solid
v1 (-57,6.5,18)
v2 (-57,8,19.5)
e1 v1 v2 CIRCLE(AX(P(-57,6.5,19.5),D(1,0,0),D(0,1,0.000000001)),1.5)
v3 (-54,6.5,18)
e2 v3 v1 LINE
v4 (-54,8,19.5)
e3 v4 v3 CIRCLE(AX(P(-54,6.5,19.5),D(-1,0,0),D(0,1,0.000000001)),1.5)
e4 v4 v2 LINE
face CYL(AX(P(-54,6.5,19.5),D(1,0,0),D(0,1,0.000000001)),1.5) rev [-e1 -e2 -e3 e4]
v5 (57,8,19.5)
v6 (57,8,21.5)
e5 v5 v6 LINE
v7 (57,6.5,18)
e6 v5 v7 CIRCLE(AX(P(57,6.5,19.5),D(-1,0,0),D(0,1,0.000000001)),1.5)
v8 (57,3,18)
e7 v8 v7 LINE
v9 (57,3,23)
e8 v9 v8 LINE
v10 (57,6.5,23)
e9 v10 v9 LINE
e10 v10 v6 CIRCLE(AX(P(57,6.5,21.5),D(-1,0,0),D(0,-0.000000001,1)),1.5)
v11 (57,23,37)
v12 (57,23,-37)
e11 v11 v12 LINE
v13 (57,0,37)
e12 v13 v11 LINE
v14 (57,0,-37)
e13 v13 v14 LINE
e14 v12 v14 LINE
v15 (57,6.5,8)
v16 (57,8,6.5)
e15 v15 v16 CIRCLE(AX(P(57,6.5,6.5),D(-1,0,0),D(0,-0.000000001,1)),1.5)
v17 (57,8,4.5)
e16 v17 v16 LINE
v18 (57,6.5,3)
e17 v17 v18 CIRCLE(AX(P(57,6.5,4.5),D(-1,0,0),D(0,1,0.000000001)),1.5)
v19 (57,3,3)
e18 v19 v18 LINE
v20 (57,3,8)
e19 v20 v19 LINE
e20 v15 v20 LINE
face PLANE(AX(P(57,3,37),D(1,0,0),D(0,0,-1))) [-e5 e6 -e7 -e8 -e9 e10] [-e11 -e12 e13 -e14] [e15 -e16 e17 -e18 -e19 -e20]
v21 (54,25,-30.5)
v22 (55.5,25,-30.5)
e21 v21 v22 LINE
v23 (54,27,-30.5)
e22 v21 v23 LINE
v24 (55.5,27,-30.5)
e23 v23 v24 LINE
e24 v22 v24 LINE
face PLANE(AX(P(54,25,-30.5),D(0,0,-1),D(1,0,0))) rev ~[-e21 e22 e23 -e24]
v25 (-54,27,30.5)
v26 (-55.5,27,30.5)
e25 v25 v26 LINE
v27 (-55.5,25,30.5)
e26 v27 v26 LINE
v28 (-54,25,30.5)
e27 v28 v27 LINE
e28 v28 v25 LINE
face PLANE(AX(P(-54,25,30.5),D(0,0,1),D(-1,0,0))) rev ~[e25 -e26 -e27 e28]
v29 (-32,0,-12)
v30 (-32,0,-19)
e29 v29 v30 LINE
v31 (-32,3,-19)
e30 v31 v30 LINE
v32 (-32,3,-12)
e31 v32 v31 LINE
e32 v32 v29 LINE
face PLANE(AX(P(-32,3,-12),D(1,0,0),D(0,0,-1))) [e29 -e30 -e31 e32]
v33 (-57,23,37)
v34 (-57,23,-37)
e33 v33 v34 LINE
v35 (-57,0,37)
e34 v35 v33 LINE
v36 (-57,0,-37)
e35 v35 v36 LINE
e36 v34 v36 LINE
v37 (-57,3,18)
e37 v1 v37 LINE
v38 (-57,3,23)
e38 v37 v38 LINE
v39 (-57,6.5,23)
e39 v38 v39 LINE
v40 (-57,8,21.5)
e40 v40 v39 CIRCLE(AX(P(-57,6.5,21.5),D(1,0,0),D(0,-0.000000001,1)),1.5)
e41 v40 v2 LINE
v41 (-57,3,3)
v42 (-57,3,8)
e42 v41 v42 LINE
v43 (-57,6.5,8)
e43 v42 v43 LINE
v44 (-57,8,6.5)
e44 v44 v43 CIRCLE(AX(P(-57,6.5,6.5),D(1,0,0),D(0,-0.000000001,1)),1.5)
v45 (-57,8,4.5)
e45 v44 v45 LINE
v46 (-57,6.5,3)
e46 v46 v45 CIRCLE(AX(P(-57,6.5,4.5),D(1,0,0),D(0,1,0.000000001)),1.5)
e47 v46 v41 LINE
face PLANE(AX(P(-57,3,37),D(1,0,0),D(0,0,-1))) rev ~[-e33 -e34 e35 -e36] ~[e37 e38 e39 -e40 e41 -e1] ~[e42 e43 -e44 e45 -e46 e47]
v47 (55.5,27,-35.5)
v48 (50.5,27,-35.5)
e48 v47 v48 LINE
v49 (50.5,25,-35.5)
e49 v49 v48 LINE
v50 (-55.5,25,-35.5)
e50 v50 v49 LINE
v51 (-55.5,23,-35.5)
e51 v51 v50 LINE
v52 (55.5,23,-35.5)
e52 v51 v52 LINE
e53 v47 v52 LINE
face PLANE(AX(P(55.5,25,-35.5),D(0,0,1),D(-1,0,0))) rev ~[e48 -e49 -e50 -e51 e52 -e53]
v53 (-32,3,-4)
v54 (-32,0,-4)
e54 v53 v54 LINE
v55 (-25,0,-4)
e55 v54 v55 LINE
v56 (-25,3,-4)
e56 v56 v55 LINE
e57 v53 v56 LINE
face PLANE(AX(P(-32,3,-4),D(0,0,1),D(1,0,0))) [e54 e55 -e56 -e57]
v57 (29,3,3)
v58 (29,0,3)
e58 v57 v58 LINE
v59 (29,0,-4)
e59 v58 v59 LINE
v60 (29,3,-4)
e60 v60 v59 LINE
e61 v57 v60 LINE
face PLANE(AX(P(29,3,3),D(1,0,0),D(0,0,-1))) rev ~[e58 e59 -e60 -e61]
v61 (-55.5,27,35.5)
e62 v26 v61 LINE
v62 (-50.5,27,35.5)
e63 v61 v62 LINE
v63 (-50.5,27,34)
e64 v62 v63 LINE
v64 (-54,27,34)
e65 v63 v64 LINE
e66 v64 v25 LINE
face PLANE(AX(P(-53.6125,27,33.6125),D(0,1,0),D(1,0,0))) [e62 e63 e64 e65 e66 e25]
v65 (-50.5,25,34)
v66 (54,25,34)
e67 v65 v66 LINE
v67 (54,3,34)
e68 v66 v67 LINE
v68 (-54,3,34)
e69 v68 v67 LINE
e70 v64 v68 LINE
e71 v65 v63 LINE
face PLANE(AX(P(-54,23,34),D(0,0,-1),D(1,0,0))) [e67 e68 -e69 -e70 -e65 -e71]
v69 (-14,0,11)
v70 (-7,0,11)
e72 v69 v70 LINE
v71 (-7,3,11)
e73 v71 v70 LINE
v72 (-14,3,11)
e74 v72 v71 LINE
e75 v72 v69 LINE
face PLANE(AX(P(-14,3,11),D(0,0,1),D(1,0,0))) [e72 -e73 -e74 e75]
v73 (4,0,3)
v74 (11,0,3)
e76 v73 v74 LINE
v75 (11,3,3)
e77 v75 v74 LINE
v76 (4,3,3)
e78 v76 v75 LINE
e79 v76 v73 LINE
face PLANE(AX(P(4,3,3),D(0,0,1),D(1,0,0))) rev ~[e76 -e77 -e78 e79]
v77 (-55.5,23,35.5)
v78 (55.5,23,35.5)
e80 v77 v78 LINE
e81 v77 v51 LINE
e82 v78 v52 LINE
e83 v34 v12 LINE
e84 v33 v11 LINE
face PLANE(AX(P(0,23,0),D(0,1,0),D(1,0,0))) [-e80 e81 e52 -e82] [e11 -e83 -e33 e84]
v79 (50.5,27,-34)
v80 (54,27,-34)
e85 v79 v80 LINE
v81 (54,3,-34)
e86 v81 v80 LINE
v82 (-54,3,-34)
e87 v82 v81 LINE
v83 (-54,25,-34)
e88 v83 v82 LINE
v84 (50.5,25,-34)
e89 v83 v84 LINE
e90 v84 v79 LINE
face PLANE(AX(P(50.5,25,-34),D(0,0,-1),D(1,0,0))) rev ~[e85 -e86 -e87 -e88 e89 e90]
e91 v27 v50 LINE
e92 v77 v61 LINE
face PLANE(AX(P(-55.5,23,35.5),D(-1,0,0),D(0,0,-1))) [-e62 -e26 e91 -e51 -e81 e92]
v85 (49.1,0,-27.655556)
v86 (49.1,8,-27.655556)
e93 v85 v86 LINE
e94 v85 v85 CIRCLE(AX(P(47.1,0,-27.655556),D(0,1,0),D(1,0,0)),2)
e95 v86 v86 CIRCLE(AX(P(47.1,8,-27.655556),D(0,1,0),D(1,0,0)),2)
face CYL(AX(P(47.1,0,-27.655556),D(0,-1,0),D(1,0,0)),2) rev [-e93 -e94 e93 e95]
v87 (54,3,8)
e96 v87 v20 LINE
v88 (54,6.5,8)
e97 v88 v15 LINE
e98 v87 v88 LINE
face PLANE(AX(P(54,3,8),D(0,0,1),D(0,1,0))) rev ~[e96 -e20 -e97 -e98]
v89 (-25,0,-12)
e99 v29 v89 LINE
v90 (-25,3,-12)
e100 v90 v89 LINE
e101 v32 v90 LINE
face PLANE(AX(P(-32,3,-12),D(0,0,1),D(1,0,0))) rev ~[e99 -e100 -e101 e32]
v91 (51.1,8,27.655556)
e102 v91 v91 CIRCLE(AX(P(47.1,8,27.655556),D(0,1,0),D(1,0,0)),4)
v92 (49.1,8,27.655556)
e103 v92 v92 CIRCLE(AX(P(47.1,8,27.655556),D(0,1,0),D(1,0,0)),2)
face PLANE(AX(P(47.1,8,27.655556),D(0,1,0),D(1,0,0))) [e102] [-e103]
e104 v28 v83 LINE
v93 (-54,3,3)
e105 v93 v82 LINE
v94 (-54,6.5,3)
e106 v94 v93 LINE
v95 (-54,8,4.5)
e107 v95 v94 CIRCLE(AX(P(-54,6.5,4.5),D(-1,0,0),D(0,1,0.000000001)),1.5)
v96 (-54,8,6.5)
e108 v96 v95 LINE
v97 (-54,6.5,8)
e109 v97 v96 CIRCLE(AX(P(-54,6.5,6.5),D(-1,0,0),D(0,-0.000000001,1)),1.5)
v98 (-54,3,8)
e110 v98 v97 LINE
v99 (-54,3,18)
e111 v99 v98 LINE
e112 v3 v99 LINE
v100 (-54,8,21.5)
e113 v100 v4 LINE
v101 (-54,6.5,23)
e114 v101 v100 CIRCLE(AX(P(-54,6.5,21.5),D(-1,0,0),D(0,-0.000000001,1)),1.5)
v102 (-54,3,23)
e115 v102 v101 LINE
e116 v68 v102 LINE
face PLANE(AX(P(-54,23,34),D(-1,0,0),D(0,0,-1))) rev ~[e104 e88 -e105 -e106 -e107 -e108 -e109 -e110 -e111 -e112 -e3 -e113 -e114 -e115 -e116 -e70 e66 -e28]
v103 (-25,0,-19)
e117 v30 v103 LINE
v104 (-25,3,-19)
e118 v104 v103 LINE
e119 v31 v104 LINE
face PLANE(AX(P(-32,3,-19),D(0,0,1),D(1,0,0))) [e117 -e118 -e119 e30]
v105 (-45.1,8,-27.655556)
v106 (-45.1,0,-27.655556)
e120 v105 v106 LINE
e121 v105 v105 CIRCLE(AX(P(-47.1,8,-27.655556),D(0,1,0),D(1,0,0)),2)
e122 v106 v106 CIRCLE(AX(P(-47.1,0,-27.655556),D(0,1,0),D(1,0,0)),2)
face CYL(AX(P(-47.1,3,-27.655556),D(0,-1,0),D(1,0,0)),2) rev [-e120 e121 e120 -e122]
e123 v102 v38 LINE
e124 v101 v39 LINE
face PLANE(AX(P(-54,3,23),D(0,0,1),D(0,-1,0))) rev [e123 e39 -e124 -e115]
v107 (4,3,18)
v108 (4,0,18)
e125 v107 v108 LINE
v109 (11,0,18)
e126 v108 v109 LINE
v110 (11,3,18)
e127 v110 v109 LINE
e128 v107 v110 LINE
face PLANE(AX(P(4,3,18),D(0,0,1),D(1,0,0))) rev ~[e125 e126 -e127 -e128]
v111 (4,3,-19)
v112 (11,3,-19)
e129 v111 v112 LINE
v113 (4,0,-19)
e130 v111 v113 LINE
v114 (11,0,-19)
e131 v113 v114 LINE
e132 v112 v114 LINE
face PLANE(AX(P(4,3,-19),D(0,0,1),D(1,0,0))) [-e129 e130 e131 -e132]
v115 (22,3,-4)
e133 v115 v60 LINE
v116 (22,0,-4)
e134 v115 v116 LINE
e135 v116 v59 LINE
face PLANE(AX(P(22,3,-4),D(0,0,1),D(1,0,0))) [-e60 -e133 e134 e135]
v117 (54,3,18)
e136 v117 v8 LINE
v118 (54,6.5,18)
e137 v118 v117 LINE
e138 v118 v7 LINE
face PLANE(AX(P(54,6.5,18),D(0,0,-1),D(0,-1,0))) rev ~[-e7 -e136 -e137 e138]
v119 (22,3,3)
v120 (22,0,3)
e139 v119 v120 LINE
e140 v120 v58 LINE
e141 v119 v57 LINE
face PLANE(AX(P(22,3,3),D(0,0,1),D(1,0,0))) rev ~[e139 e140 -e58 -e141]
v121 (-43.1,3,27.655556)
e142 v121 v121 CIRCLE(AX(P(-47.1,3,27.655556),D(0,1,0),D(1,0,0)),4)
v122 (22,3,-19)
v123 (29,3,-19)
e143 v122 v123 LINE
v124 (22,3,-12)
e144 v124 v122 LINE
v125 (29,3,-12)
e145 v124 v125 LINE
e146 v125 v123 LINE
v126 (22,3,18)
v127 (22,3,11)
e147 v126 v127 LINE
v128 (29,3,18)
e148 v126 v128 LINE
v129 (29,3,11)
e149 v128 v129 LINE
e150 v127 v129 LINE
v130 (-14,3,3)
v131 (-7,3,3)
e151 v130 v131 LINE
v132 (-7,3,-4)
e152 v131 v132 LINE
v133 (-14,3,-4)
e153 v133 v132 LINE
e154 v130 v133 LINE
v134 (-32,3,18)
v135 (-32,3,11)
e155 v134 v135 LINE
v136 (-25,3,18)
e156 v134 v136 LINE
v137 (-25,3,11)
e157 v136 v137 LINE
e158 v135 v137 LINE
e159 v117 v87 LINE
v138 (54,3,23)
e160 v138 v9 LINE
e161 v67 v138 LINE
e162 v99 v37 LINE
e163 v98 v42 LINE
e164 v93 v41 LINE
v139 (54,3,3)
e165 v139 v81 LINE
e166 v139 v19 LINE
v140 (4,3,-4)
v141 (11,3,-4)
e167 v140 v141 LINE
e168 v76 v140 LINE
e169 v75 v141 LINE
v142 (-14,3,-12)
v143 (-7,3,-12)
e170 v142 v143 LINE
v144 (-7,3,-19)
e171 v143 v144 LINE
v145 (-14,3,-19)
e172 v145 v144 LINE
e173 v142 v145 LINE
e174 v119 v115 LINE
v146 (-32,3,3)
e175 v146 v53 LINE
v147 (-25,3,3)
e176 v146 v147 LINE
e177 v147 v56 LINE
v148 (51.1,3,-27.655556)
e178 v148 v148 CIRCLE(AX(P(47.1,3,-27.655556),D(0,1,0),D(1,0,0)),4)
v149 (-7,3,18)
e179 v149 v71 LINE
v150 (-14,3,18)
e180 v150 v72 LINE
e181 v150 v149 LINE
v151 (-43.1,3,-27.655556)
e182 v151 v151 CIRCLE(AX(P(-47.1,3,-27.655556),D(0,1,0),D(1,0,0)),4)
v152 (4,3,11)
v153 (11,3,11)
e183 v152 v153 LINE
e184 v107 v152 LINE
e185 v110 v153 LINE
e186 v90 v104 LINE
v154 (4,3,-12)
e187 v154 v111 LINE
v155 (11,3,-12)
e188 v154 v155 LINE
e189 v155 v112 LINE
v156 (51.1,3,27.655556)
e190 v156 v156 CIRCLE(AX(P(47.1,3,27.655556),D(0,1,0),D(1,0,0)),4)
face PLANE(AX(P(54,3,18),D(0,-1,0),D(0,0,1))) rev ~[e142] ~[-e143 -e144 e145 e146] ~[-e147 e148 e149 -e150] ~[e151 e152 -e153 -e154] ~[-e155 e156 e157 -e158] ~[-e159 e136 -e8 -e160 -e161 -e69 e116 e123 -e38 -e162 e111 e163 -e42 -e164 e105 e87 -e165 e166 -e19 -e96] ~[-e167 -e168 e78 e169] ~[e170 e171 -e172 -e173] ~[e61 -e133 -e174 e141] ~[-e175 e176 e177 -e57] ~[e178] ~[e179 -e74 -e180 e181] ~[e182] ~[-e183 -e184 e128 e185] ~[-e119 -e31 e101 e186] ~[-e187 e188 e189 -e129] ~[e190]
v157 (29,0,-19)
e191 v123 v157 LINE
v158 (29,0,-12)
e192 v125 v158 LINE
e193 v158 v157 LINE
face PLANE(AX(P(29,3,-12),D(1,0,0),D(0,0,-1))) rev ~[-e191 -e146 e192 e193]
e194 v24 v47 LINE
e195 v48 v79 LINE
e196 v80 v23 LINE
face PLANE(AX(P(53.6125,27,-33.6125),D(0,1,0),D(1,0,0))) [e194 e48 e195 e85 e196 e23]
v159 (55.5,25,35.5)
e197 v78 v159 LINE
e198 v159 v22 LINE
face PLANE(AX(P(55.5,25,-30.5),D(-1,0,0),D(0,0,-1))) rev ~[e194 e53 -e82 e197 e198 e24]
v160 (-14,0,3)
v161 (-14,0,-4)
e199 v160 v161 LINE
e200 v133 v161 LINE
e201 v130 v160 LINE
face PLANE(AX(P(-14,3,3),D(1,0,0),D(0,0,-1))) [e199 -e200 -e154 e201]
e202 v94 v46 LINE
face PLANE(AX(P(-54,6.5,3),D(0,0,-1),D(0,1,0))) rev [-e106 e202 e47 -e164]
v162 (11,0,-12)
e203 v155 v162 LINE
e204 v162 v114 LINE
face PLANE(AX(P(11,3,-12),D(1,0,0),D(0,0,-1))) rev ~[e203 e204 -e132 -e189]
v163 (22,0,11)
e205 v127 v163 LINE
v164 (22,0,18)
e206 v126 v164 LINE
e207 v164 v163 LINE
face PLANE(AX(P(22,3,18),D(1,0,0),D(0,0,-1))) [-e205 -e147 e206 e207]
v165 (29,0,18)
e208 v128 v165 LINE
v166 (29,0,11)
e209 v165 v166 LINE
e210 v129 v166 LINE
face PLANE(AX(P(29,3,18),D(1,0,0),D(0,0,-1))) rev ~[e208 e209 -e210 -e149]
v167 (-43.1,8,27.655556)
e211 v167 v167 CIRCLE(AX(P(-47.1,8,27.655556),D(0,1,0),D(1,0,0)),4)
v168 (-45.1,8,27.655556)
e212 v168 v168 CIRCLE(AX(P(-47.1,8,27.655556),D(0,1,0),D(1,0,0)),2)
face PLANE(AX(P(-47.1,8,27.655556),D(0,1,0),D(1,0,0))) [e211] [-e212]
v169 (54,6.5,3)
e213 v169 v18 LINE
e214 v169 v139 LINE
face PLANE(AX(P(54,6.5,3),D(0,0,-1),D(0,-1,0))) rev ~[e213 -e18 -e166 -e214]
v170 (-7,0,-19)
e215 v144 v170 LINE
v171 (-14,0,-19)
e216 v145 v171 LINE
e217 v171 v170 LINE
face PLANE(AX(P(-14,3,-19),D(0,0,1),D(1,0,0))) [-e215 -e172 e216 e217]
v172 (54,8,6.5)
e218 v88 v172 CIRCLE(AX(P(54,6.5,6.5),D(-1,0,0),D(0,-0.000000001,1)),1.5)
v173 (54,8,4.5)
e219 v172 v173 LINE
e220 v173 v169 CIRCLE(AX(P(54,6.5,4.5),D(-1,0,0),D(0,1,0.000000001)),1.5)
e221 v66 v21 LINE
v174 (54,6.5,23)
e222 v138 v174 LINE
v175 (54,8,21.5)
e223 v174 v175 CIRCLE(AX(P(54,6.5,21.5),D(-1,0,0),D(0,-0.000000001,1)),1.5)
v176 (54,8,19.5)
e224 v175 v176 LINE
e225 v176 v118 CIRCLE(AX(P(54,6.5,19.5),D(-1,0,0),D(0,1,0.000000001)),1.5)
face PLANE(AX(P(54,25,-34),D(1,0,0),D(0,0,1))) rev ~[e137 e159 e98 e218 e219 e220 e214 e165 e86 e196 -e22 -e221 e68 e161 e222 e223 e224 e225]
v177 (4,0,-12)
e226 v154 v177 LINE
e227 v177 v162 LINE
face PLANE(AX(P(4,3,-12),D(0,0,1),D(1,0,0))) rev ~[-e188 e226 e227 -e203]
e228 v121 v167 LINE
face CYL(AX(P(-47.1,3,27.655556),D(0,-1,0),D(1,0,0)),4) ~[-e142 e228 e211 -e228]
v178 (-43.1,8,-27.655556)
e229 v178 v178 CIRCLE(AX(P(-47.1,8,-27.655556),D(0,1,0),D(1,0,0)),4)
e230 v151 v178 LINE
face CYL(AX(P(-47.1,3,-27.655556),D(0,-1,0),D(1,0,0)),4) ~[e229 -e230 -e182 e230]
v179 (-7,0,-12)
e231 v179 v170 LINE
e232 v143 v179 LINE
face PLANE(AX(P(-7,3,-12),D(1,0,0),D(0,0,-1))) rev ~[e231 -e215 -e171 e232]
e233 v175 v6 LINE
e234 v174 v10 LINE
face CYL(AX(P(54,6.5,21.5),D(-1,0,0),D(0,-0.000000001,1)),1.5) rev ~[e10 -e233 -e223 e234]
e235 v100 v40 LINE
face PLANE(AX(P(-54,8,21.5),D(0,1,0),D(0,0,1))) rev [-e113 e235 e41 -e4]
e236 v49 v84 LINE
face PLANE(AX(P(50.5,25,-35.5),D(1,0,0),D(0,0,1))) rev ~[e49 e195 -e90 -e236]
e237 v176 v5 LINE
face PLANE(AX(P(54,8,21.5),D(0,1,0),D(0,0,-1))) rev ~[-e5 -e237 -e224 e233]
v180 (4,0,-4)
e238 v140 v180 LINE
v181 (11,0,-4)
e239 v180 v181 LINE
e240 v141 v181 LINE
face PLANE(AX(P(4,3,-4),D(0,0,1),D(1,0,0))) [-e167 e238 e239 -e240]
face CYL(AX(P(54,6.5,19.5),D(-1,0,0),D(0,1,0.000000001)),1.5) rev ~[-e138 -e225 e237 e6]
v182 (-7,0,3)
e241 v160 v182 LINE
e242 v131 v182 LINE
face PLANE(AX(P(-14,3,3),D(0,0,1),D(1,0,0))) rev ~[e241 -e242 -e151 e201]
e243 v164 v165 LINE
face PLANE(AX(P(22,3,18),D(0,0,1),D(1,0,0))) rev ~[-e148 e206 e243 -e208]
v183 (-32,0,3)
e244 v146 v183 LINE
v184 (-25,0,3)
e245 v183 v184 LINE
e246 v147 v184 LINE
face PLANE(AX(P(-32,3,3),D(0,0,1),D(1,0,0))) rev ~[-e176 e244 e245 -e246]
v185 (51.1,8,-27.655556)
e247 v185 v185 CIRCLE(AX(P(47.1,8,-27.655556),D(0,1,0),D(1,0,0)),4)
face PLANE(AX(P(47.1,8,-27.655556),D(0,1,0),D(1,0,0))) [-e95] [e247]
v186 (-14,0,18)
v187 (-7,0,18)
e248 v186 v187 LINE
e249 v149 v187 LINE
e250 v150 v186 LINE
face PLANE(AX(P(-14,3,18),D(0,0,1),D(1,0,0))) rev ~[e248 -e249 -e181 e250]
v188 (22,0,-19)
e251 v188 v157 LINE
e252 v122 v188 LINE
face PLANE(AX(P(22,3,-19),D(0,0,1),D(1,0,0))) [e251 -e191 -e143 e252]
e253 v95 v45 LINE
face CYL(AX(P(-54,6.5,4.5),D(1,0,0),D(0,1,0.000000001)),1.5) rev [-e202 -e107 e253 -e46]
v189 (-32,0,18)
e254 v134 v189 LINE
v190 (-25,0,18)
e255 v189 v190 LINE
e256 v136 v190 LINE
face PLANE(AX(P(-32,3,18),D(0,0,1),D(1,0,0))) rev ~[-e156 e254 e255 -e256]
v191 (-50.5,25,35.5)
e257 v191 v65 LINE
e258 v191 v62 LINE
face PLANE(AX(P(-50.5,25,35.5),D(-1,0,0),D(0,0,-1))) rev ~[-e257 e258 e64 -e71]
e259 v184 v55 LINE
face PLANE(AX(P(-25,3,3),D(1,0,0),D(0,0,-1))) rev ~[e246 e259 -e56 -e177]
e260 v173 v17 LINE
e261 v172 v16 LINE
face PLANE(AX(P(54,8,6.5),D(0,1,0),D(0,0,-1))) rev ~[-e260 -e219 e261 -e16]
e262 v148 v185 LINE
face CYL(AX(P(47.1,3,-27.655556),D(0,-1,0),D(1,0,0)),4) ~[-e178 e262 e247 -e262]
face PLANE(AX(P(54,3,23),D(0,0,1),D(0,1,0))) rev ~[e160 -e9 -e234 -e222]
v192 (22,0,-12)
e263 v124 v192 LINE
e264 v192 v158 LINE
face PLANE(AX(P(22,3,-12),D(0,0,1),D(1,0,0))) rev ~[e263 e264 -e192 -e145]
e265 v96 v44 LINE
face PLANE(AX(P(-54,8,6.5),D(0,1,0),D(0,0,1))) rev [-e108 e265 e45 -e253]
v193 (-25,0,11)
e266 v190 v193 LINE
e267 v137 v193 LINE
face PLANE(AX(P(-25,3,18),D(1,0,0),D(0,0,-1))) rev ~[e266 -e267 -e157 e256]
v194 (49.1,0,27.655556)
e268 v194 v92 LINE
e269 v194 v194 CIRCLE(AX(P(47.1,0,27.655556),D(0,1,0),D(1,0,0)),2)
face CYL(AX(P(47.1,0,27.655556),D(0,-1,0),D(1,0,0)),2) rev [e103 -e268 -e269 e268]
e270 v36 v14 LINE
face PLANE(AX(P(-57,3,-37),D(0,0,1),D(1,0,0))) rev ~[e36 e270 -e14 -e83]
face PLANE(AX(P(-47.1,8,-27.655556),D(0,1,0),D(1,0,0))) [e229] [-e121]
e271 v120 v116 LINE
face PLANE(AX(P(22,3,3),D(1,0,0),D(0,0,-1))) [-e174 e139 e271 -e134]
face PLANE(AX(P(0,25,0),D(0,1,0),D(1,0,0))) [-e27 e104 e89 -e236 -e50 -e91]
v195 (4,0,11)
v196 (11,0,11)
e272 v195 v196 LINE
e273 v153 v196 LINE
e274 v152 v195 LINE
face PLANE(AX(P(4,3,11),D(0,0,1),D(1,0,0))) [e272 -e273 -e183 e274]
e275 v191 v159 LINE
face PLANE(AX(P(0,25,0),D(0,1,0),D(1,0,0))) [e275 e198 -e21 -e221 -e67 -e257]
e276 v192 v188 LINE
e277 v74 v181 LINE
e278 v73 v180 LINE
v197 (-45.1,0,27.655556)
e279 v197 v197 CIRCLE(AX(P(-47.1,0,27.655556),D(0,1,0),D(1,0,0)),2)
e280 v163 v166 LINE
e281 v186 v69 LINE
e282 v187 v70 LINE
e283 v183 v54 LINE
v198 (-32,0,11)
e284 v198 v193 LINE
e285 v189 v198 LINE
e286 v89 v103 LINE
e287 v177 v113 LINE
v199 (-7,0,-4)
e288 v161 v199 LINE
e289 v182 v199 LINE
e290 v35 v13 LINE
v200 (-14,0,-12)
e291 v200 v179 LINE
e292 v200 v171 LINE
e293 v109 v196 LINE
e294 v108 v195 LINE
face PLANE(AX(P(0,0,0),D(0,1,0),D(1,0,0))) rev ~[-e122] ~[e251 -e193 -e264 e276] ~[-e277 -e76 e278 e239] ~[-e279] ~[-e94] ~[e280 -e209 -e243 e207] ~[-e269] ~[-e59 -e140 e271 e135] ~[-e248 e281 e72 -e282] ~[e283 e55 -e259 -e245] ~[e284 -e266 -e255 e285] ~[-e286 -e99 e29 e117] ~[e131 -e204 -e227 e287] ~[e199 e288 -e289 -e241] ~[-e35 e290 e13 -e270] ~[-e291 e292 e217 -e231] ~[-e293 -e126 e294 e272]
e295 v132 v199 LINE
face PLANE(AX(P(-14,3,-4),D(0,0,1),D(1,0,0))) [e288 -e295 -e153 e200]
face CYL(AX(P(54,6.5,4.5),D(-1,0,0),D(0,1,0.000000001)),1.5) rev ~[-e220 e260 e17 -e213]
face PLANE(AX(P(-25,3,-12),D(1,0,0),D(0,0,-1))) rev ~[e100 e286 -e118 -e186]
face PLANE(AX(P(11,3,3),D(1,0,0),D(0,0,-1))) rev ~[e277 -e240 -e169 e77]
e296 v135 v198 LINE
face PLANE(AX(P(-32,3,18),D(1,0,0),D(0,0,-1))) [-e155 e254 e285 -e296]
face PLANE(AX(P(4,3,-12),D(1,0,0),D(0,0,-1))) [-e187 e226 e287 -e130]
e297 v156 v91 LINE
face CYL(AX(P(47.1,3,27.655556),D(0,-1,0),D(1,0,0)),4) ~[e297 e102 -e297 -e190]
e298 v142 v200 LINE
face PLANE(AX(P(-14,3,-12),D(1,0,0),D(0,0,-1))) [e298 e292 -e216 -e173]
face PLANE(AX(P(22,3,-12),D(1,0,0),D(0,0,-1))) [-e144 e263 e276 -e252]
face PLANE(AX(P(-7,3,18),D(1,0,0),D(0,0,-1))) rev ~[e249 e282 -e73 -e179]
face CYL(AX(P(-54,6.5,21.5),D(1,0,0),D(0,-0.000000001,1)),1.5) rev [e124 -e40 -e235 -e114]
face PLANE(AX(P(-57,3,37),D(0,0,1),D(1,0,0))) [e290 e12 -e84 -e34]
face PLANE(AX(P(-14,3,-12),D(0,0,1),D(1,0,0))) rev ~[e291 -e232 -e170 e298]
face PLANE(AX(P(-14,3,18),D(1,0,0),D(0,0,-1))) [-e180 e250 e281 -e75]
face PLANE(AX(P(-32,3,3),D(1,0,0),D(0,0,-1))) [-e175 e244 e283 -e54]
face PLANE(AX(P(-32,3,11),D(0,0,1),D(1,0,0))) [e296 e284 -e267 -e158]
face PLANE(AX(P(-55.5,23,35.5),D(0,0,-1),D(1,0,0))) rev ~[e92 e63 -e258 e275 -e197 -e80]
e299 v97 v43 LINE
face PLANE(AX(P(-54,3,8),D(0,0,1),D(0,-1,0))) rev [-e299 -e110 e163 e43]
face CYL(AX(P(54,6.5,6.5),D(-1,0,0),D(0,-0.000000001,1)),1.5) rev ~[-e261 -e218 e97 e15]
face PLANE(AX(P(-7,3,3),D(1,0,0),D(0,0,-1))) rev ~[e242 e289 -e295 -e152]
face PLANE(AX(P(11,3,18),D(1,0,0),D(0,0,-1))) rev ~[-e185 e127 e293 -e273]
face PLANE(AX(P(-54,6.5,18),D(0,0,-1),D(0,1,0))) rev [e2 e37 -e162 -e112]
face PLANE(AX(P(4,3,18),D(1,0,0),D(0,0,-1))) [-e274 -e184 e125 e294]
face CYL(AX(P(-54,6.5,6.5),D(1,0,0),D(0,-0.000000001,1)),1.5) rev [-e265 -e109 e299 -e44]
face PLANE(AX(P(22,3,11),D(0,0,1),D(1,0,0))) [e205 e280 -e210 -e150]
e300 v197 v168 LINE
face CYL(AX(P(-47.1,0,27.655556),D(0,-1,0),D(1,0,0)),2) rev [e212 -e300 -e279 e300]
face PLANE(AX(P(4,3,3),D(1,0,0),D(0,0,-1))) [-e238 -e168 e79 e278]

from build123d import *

# Parameters (mm, degrees)
SKETCH1_W                = 108
SKETCH1_H                = 68
SKETCH1_R                = 2
BOSS_EXTRUDE1_DEPTH      = 3
SKETCH2_W                = 114
SKETCH2_H                = 74
SKETCH2_W_2              = 108
SKETCH2_H_2              = 68
BOSS_EXTRUDE2_DEPTH      = 20
BOSS_EXTRUDE2_DEPTH_BACK = 3
SKETCH4_W                = 111
SKETCH4_H                = 71
SKETCH4_W_2              = 108
SKETCH4_H_2              = 68
BOSS_EXTRUDE3_DEPTH      = 2
CUT_EXTRUDE1_DEPTH       = 4
SKETCH6_R                = 4
SKETCH6_R_2              = 2
BOSS_EXTRUDE4_DEPTH      = 5
SKETCH7_W                = 7
SKETCH7_H                = 7
CUT_EXTRUDE2_DEPTH       = 4
BOSS_EXTRUDE5_DEPTH      = 2


with BuildPart() as part:
    # Sketch1 → Boss-Extrude1 (new body)
    with BuildSketch(Plane(origin=(0, 0, 0), x_dir=(1, 0, 0), z_dir=(0, 1, 0))):
        Rectangle(SKETCH1_W, SKETCH1_H)
        with Locations((-47.1, 27.655555556)):
            Circle(SKETCH1_R, mode=Mode.SUBTRACT)
        with Locations((47.1, 27.655555556)):
            Circle(SKETCH1_R, mode=Mode.SUBTRACT)
        with Locations((47.1, -27.655555556)):
            Circle(SKETCH1_R, mode=Mode.SUBTRACT)
        with Locations((-47.1, -27.655555556)):
            Circle(SKETCH1_R, mode=Mode.SUBTRACT)
    extrude(amount=BOSS_EXTRUDE1_DEPTH)

    # Sketch2 → Boss-Extrude2 (add, two sides)
    with BuildSketch(Plane(origin=(0, 3, 0), x_dir=(1, 0, 0), z_dir=(0, 1, 0))) as boss_extrude2_sk:
        Rectangle(SKETCH2_W, SKETCH2_H)
        Rectangle(SKETCH2_W_2, SKETCH2_H_2, mode=Mode.SUBTRACT)
    extrude(amount=BOSS_EXTRUDE2_DEPTH)
    extrude(boss_extrude2_sk.sketch, amount=-BOSS_EXTRUDE2_DEPTH_BACK)

    # Sketch4 → Boss-Extrude3 (add)
    with BuildSketch(Plane(origin=(0, 23, 0), x_dir=(1, 0, 0), z_dir=(0, 1, 0))):
        Rectangle(SKETCH4_W, SKETCH4_H)
        Rectangle(SKETCH4_W_2, SKETCH4_H_2, mode=Mode.SUBTRACT)
    extrude(amount=BOSS_EXTRUDE3_DEPTH)

    # Sketch5 → Cut-Extrude1 (cut, through all)
    with BuildSketch(Plane.ZY.offset(-54)):
        with BuildLine():
            Line((3, 3), (8, 3))
            Line((8, 3), (8, 6.5))
            ThreePointArc((8, 6.5), (7.560660172, 7.560660172), (6.5, 8))
            Line((6.5, 8), (4.5, 8))
            ThreePointArc((4.5, 8), (3.439339828, 7.560660172), (3, 6.5))
            Line((3, 6.5), (3, 3))
        make_face()
        with BuildLine():
            Line((18, 3), (23, 3))
            Line((23, 3), (23, 6.5))
            ThreePointArc((23, 6.5), (22.560660172, 7.560660172), (21.5, 8))
            Line((21.5, 8), (19.5, 8))
            ThreePointArc((19.5, 8), (18.439339828, 7.560660172), (18, 6.5))
            Line((18, 6.5), (18, 3))
        make_face()
    cut_extrude1 = extrude(amount=-CUT_EXTRUDE1_DEPTH, mode=Mode.SUBTRACT)

    # Sketch6 → Boss-Extrude4 (add)
    with BuildSketch(Plane(origin=(0, 3, 0), x_dir=(1, 0, 0), z_dir=(0, 1, 0))):
        with Locations((-47.1, 27.655555556)):
            Circle(SKETCH6_R)
        with Locations((-47.1, 27.655555556)):
            Circle(SKETCH6_R_2, mode=Mode.SUBTRACT)
        with Locations((47.1, 27.655555556)):
            Circle(SKETCH6_R)
        with Locations((47.1, 27.655555556)):
            Circle(SKETCH6_R_2, mode=Mode.SUBTRACT)
        with Locations((47.1, -27.655555556)):
            Circle(SKETCH6_R)
        with Locations((47.1, -27.655555556)):
            Circle(SKETCH6_R_2, mode=Mode.SUBTRACT)
        with Locations((-47.1, -27.655555556)):
            Circle(SKETCH6_R)
        with Locations((-47.1, -27.655555556)):
            Circle(SKETCH6_R_2, mode=Mode.SUBTRACT)
    extrude(amount=BOSS_EXTRUDE4_DEPTH)

    # Sketch7 → Cut-Extrude2 (cut, through all)
    with BuildSketch(Plane(origin=(0, 3, 0), x_dir=(1, 0, 0), z_dir=(0, 1, 0))):
        with Locations((-10.5, 15.5)):
            Rectangle(SKETCH7_W, SKETCH7_H)
        with Locations((-28.5, 15.5)):
            Rectangle(SKETCH7_W, SKETCH7_H)
        with Locations((7.5, 15.5)):
            Rectangle(SKETCH7_W, SKETCH7_H)
        with Locations((25.5, 15.5)):
            Rectangle(SKETCH7_W, SKETCH7_H)
        with Locations((-10.5, 0.5)):
            Rectangle(SKETCH7_W, SKETCH7_H)
        with Locations((7.5, 0.5)):
            Rectangle(SKETCH7_W, SKETCH7_H)
        with Locations((25.5, 0.5)):
            Rectangle(SKETCH7_W, SKETCH7_H)
        with Locations((-10.5, -14.5)):
            Rectangle(SKETCH7_W, SKETCH7_H)
        with Locations((7.5, -14.5)):
            Rectangle(SKETCH7_W, SKETCH7_H)
        with Locations((25.5, -14.5)):
            Rectangle(SKETCH7_W, SKETCH7_H)
        with Locations((-28.5, 0.5)):
            Rectangle(SKETCH7_W, SKETCH7_H)
        with Locations((-28.5, -14.5)):
            Rectangle(SKETCH7_W, SKETCH7_H)
    extrude(amount=-CUT_EXTRUDE2_DEPTH, mode=Mode.SUBTRACT)

    # Mirror1: Cut-Extrude1 across plane
    add(cut_extrude1.mirror(Plane(origin=(0, 0, 0), x_dir=(0, 0, 1), z_dir=(1, 0, 0))), mode=Mode.SUBTRACT)

    # Sketch8 → Boss-Extrude5 (add)
    with BuildSketch(Plane(origin=(0, 25, 0), x_dir=(1, 0, 0), z_dir=(0, 1, 0))):
        Polygon((55.5, 35.5), (50.5, 35.5), (50.5, 34), (54, 34), (54, 30.5), (55.5, 30.5), align=None)
        Polygon((-55.5, -35.5), (-50.5, -35.5), (-50.5, -34), (-54, -34), (-54, -30.5), (-55.5, -30.5), align=None)
    extrude(amount=BOSS_EXTRUDE5_DEPTH)


solid = part.part
